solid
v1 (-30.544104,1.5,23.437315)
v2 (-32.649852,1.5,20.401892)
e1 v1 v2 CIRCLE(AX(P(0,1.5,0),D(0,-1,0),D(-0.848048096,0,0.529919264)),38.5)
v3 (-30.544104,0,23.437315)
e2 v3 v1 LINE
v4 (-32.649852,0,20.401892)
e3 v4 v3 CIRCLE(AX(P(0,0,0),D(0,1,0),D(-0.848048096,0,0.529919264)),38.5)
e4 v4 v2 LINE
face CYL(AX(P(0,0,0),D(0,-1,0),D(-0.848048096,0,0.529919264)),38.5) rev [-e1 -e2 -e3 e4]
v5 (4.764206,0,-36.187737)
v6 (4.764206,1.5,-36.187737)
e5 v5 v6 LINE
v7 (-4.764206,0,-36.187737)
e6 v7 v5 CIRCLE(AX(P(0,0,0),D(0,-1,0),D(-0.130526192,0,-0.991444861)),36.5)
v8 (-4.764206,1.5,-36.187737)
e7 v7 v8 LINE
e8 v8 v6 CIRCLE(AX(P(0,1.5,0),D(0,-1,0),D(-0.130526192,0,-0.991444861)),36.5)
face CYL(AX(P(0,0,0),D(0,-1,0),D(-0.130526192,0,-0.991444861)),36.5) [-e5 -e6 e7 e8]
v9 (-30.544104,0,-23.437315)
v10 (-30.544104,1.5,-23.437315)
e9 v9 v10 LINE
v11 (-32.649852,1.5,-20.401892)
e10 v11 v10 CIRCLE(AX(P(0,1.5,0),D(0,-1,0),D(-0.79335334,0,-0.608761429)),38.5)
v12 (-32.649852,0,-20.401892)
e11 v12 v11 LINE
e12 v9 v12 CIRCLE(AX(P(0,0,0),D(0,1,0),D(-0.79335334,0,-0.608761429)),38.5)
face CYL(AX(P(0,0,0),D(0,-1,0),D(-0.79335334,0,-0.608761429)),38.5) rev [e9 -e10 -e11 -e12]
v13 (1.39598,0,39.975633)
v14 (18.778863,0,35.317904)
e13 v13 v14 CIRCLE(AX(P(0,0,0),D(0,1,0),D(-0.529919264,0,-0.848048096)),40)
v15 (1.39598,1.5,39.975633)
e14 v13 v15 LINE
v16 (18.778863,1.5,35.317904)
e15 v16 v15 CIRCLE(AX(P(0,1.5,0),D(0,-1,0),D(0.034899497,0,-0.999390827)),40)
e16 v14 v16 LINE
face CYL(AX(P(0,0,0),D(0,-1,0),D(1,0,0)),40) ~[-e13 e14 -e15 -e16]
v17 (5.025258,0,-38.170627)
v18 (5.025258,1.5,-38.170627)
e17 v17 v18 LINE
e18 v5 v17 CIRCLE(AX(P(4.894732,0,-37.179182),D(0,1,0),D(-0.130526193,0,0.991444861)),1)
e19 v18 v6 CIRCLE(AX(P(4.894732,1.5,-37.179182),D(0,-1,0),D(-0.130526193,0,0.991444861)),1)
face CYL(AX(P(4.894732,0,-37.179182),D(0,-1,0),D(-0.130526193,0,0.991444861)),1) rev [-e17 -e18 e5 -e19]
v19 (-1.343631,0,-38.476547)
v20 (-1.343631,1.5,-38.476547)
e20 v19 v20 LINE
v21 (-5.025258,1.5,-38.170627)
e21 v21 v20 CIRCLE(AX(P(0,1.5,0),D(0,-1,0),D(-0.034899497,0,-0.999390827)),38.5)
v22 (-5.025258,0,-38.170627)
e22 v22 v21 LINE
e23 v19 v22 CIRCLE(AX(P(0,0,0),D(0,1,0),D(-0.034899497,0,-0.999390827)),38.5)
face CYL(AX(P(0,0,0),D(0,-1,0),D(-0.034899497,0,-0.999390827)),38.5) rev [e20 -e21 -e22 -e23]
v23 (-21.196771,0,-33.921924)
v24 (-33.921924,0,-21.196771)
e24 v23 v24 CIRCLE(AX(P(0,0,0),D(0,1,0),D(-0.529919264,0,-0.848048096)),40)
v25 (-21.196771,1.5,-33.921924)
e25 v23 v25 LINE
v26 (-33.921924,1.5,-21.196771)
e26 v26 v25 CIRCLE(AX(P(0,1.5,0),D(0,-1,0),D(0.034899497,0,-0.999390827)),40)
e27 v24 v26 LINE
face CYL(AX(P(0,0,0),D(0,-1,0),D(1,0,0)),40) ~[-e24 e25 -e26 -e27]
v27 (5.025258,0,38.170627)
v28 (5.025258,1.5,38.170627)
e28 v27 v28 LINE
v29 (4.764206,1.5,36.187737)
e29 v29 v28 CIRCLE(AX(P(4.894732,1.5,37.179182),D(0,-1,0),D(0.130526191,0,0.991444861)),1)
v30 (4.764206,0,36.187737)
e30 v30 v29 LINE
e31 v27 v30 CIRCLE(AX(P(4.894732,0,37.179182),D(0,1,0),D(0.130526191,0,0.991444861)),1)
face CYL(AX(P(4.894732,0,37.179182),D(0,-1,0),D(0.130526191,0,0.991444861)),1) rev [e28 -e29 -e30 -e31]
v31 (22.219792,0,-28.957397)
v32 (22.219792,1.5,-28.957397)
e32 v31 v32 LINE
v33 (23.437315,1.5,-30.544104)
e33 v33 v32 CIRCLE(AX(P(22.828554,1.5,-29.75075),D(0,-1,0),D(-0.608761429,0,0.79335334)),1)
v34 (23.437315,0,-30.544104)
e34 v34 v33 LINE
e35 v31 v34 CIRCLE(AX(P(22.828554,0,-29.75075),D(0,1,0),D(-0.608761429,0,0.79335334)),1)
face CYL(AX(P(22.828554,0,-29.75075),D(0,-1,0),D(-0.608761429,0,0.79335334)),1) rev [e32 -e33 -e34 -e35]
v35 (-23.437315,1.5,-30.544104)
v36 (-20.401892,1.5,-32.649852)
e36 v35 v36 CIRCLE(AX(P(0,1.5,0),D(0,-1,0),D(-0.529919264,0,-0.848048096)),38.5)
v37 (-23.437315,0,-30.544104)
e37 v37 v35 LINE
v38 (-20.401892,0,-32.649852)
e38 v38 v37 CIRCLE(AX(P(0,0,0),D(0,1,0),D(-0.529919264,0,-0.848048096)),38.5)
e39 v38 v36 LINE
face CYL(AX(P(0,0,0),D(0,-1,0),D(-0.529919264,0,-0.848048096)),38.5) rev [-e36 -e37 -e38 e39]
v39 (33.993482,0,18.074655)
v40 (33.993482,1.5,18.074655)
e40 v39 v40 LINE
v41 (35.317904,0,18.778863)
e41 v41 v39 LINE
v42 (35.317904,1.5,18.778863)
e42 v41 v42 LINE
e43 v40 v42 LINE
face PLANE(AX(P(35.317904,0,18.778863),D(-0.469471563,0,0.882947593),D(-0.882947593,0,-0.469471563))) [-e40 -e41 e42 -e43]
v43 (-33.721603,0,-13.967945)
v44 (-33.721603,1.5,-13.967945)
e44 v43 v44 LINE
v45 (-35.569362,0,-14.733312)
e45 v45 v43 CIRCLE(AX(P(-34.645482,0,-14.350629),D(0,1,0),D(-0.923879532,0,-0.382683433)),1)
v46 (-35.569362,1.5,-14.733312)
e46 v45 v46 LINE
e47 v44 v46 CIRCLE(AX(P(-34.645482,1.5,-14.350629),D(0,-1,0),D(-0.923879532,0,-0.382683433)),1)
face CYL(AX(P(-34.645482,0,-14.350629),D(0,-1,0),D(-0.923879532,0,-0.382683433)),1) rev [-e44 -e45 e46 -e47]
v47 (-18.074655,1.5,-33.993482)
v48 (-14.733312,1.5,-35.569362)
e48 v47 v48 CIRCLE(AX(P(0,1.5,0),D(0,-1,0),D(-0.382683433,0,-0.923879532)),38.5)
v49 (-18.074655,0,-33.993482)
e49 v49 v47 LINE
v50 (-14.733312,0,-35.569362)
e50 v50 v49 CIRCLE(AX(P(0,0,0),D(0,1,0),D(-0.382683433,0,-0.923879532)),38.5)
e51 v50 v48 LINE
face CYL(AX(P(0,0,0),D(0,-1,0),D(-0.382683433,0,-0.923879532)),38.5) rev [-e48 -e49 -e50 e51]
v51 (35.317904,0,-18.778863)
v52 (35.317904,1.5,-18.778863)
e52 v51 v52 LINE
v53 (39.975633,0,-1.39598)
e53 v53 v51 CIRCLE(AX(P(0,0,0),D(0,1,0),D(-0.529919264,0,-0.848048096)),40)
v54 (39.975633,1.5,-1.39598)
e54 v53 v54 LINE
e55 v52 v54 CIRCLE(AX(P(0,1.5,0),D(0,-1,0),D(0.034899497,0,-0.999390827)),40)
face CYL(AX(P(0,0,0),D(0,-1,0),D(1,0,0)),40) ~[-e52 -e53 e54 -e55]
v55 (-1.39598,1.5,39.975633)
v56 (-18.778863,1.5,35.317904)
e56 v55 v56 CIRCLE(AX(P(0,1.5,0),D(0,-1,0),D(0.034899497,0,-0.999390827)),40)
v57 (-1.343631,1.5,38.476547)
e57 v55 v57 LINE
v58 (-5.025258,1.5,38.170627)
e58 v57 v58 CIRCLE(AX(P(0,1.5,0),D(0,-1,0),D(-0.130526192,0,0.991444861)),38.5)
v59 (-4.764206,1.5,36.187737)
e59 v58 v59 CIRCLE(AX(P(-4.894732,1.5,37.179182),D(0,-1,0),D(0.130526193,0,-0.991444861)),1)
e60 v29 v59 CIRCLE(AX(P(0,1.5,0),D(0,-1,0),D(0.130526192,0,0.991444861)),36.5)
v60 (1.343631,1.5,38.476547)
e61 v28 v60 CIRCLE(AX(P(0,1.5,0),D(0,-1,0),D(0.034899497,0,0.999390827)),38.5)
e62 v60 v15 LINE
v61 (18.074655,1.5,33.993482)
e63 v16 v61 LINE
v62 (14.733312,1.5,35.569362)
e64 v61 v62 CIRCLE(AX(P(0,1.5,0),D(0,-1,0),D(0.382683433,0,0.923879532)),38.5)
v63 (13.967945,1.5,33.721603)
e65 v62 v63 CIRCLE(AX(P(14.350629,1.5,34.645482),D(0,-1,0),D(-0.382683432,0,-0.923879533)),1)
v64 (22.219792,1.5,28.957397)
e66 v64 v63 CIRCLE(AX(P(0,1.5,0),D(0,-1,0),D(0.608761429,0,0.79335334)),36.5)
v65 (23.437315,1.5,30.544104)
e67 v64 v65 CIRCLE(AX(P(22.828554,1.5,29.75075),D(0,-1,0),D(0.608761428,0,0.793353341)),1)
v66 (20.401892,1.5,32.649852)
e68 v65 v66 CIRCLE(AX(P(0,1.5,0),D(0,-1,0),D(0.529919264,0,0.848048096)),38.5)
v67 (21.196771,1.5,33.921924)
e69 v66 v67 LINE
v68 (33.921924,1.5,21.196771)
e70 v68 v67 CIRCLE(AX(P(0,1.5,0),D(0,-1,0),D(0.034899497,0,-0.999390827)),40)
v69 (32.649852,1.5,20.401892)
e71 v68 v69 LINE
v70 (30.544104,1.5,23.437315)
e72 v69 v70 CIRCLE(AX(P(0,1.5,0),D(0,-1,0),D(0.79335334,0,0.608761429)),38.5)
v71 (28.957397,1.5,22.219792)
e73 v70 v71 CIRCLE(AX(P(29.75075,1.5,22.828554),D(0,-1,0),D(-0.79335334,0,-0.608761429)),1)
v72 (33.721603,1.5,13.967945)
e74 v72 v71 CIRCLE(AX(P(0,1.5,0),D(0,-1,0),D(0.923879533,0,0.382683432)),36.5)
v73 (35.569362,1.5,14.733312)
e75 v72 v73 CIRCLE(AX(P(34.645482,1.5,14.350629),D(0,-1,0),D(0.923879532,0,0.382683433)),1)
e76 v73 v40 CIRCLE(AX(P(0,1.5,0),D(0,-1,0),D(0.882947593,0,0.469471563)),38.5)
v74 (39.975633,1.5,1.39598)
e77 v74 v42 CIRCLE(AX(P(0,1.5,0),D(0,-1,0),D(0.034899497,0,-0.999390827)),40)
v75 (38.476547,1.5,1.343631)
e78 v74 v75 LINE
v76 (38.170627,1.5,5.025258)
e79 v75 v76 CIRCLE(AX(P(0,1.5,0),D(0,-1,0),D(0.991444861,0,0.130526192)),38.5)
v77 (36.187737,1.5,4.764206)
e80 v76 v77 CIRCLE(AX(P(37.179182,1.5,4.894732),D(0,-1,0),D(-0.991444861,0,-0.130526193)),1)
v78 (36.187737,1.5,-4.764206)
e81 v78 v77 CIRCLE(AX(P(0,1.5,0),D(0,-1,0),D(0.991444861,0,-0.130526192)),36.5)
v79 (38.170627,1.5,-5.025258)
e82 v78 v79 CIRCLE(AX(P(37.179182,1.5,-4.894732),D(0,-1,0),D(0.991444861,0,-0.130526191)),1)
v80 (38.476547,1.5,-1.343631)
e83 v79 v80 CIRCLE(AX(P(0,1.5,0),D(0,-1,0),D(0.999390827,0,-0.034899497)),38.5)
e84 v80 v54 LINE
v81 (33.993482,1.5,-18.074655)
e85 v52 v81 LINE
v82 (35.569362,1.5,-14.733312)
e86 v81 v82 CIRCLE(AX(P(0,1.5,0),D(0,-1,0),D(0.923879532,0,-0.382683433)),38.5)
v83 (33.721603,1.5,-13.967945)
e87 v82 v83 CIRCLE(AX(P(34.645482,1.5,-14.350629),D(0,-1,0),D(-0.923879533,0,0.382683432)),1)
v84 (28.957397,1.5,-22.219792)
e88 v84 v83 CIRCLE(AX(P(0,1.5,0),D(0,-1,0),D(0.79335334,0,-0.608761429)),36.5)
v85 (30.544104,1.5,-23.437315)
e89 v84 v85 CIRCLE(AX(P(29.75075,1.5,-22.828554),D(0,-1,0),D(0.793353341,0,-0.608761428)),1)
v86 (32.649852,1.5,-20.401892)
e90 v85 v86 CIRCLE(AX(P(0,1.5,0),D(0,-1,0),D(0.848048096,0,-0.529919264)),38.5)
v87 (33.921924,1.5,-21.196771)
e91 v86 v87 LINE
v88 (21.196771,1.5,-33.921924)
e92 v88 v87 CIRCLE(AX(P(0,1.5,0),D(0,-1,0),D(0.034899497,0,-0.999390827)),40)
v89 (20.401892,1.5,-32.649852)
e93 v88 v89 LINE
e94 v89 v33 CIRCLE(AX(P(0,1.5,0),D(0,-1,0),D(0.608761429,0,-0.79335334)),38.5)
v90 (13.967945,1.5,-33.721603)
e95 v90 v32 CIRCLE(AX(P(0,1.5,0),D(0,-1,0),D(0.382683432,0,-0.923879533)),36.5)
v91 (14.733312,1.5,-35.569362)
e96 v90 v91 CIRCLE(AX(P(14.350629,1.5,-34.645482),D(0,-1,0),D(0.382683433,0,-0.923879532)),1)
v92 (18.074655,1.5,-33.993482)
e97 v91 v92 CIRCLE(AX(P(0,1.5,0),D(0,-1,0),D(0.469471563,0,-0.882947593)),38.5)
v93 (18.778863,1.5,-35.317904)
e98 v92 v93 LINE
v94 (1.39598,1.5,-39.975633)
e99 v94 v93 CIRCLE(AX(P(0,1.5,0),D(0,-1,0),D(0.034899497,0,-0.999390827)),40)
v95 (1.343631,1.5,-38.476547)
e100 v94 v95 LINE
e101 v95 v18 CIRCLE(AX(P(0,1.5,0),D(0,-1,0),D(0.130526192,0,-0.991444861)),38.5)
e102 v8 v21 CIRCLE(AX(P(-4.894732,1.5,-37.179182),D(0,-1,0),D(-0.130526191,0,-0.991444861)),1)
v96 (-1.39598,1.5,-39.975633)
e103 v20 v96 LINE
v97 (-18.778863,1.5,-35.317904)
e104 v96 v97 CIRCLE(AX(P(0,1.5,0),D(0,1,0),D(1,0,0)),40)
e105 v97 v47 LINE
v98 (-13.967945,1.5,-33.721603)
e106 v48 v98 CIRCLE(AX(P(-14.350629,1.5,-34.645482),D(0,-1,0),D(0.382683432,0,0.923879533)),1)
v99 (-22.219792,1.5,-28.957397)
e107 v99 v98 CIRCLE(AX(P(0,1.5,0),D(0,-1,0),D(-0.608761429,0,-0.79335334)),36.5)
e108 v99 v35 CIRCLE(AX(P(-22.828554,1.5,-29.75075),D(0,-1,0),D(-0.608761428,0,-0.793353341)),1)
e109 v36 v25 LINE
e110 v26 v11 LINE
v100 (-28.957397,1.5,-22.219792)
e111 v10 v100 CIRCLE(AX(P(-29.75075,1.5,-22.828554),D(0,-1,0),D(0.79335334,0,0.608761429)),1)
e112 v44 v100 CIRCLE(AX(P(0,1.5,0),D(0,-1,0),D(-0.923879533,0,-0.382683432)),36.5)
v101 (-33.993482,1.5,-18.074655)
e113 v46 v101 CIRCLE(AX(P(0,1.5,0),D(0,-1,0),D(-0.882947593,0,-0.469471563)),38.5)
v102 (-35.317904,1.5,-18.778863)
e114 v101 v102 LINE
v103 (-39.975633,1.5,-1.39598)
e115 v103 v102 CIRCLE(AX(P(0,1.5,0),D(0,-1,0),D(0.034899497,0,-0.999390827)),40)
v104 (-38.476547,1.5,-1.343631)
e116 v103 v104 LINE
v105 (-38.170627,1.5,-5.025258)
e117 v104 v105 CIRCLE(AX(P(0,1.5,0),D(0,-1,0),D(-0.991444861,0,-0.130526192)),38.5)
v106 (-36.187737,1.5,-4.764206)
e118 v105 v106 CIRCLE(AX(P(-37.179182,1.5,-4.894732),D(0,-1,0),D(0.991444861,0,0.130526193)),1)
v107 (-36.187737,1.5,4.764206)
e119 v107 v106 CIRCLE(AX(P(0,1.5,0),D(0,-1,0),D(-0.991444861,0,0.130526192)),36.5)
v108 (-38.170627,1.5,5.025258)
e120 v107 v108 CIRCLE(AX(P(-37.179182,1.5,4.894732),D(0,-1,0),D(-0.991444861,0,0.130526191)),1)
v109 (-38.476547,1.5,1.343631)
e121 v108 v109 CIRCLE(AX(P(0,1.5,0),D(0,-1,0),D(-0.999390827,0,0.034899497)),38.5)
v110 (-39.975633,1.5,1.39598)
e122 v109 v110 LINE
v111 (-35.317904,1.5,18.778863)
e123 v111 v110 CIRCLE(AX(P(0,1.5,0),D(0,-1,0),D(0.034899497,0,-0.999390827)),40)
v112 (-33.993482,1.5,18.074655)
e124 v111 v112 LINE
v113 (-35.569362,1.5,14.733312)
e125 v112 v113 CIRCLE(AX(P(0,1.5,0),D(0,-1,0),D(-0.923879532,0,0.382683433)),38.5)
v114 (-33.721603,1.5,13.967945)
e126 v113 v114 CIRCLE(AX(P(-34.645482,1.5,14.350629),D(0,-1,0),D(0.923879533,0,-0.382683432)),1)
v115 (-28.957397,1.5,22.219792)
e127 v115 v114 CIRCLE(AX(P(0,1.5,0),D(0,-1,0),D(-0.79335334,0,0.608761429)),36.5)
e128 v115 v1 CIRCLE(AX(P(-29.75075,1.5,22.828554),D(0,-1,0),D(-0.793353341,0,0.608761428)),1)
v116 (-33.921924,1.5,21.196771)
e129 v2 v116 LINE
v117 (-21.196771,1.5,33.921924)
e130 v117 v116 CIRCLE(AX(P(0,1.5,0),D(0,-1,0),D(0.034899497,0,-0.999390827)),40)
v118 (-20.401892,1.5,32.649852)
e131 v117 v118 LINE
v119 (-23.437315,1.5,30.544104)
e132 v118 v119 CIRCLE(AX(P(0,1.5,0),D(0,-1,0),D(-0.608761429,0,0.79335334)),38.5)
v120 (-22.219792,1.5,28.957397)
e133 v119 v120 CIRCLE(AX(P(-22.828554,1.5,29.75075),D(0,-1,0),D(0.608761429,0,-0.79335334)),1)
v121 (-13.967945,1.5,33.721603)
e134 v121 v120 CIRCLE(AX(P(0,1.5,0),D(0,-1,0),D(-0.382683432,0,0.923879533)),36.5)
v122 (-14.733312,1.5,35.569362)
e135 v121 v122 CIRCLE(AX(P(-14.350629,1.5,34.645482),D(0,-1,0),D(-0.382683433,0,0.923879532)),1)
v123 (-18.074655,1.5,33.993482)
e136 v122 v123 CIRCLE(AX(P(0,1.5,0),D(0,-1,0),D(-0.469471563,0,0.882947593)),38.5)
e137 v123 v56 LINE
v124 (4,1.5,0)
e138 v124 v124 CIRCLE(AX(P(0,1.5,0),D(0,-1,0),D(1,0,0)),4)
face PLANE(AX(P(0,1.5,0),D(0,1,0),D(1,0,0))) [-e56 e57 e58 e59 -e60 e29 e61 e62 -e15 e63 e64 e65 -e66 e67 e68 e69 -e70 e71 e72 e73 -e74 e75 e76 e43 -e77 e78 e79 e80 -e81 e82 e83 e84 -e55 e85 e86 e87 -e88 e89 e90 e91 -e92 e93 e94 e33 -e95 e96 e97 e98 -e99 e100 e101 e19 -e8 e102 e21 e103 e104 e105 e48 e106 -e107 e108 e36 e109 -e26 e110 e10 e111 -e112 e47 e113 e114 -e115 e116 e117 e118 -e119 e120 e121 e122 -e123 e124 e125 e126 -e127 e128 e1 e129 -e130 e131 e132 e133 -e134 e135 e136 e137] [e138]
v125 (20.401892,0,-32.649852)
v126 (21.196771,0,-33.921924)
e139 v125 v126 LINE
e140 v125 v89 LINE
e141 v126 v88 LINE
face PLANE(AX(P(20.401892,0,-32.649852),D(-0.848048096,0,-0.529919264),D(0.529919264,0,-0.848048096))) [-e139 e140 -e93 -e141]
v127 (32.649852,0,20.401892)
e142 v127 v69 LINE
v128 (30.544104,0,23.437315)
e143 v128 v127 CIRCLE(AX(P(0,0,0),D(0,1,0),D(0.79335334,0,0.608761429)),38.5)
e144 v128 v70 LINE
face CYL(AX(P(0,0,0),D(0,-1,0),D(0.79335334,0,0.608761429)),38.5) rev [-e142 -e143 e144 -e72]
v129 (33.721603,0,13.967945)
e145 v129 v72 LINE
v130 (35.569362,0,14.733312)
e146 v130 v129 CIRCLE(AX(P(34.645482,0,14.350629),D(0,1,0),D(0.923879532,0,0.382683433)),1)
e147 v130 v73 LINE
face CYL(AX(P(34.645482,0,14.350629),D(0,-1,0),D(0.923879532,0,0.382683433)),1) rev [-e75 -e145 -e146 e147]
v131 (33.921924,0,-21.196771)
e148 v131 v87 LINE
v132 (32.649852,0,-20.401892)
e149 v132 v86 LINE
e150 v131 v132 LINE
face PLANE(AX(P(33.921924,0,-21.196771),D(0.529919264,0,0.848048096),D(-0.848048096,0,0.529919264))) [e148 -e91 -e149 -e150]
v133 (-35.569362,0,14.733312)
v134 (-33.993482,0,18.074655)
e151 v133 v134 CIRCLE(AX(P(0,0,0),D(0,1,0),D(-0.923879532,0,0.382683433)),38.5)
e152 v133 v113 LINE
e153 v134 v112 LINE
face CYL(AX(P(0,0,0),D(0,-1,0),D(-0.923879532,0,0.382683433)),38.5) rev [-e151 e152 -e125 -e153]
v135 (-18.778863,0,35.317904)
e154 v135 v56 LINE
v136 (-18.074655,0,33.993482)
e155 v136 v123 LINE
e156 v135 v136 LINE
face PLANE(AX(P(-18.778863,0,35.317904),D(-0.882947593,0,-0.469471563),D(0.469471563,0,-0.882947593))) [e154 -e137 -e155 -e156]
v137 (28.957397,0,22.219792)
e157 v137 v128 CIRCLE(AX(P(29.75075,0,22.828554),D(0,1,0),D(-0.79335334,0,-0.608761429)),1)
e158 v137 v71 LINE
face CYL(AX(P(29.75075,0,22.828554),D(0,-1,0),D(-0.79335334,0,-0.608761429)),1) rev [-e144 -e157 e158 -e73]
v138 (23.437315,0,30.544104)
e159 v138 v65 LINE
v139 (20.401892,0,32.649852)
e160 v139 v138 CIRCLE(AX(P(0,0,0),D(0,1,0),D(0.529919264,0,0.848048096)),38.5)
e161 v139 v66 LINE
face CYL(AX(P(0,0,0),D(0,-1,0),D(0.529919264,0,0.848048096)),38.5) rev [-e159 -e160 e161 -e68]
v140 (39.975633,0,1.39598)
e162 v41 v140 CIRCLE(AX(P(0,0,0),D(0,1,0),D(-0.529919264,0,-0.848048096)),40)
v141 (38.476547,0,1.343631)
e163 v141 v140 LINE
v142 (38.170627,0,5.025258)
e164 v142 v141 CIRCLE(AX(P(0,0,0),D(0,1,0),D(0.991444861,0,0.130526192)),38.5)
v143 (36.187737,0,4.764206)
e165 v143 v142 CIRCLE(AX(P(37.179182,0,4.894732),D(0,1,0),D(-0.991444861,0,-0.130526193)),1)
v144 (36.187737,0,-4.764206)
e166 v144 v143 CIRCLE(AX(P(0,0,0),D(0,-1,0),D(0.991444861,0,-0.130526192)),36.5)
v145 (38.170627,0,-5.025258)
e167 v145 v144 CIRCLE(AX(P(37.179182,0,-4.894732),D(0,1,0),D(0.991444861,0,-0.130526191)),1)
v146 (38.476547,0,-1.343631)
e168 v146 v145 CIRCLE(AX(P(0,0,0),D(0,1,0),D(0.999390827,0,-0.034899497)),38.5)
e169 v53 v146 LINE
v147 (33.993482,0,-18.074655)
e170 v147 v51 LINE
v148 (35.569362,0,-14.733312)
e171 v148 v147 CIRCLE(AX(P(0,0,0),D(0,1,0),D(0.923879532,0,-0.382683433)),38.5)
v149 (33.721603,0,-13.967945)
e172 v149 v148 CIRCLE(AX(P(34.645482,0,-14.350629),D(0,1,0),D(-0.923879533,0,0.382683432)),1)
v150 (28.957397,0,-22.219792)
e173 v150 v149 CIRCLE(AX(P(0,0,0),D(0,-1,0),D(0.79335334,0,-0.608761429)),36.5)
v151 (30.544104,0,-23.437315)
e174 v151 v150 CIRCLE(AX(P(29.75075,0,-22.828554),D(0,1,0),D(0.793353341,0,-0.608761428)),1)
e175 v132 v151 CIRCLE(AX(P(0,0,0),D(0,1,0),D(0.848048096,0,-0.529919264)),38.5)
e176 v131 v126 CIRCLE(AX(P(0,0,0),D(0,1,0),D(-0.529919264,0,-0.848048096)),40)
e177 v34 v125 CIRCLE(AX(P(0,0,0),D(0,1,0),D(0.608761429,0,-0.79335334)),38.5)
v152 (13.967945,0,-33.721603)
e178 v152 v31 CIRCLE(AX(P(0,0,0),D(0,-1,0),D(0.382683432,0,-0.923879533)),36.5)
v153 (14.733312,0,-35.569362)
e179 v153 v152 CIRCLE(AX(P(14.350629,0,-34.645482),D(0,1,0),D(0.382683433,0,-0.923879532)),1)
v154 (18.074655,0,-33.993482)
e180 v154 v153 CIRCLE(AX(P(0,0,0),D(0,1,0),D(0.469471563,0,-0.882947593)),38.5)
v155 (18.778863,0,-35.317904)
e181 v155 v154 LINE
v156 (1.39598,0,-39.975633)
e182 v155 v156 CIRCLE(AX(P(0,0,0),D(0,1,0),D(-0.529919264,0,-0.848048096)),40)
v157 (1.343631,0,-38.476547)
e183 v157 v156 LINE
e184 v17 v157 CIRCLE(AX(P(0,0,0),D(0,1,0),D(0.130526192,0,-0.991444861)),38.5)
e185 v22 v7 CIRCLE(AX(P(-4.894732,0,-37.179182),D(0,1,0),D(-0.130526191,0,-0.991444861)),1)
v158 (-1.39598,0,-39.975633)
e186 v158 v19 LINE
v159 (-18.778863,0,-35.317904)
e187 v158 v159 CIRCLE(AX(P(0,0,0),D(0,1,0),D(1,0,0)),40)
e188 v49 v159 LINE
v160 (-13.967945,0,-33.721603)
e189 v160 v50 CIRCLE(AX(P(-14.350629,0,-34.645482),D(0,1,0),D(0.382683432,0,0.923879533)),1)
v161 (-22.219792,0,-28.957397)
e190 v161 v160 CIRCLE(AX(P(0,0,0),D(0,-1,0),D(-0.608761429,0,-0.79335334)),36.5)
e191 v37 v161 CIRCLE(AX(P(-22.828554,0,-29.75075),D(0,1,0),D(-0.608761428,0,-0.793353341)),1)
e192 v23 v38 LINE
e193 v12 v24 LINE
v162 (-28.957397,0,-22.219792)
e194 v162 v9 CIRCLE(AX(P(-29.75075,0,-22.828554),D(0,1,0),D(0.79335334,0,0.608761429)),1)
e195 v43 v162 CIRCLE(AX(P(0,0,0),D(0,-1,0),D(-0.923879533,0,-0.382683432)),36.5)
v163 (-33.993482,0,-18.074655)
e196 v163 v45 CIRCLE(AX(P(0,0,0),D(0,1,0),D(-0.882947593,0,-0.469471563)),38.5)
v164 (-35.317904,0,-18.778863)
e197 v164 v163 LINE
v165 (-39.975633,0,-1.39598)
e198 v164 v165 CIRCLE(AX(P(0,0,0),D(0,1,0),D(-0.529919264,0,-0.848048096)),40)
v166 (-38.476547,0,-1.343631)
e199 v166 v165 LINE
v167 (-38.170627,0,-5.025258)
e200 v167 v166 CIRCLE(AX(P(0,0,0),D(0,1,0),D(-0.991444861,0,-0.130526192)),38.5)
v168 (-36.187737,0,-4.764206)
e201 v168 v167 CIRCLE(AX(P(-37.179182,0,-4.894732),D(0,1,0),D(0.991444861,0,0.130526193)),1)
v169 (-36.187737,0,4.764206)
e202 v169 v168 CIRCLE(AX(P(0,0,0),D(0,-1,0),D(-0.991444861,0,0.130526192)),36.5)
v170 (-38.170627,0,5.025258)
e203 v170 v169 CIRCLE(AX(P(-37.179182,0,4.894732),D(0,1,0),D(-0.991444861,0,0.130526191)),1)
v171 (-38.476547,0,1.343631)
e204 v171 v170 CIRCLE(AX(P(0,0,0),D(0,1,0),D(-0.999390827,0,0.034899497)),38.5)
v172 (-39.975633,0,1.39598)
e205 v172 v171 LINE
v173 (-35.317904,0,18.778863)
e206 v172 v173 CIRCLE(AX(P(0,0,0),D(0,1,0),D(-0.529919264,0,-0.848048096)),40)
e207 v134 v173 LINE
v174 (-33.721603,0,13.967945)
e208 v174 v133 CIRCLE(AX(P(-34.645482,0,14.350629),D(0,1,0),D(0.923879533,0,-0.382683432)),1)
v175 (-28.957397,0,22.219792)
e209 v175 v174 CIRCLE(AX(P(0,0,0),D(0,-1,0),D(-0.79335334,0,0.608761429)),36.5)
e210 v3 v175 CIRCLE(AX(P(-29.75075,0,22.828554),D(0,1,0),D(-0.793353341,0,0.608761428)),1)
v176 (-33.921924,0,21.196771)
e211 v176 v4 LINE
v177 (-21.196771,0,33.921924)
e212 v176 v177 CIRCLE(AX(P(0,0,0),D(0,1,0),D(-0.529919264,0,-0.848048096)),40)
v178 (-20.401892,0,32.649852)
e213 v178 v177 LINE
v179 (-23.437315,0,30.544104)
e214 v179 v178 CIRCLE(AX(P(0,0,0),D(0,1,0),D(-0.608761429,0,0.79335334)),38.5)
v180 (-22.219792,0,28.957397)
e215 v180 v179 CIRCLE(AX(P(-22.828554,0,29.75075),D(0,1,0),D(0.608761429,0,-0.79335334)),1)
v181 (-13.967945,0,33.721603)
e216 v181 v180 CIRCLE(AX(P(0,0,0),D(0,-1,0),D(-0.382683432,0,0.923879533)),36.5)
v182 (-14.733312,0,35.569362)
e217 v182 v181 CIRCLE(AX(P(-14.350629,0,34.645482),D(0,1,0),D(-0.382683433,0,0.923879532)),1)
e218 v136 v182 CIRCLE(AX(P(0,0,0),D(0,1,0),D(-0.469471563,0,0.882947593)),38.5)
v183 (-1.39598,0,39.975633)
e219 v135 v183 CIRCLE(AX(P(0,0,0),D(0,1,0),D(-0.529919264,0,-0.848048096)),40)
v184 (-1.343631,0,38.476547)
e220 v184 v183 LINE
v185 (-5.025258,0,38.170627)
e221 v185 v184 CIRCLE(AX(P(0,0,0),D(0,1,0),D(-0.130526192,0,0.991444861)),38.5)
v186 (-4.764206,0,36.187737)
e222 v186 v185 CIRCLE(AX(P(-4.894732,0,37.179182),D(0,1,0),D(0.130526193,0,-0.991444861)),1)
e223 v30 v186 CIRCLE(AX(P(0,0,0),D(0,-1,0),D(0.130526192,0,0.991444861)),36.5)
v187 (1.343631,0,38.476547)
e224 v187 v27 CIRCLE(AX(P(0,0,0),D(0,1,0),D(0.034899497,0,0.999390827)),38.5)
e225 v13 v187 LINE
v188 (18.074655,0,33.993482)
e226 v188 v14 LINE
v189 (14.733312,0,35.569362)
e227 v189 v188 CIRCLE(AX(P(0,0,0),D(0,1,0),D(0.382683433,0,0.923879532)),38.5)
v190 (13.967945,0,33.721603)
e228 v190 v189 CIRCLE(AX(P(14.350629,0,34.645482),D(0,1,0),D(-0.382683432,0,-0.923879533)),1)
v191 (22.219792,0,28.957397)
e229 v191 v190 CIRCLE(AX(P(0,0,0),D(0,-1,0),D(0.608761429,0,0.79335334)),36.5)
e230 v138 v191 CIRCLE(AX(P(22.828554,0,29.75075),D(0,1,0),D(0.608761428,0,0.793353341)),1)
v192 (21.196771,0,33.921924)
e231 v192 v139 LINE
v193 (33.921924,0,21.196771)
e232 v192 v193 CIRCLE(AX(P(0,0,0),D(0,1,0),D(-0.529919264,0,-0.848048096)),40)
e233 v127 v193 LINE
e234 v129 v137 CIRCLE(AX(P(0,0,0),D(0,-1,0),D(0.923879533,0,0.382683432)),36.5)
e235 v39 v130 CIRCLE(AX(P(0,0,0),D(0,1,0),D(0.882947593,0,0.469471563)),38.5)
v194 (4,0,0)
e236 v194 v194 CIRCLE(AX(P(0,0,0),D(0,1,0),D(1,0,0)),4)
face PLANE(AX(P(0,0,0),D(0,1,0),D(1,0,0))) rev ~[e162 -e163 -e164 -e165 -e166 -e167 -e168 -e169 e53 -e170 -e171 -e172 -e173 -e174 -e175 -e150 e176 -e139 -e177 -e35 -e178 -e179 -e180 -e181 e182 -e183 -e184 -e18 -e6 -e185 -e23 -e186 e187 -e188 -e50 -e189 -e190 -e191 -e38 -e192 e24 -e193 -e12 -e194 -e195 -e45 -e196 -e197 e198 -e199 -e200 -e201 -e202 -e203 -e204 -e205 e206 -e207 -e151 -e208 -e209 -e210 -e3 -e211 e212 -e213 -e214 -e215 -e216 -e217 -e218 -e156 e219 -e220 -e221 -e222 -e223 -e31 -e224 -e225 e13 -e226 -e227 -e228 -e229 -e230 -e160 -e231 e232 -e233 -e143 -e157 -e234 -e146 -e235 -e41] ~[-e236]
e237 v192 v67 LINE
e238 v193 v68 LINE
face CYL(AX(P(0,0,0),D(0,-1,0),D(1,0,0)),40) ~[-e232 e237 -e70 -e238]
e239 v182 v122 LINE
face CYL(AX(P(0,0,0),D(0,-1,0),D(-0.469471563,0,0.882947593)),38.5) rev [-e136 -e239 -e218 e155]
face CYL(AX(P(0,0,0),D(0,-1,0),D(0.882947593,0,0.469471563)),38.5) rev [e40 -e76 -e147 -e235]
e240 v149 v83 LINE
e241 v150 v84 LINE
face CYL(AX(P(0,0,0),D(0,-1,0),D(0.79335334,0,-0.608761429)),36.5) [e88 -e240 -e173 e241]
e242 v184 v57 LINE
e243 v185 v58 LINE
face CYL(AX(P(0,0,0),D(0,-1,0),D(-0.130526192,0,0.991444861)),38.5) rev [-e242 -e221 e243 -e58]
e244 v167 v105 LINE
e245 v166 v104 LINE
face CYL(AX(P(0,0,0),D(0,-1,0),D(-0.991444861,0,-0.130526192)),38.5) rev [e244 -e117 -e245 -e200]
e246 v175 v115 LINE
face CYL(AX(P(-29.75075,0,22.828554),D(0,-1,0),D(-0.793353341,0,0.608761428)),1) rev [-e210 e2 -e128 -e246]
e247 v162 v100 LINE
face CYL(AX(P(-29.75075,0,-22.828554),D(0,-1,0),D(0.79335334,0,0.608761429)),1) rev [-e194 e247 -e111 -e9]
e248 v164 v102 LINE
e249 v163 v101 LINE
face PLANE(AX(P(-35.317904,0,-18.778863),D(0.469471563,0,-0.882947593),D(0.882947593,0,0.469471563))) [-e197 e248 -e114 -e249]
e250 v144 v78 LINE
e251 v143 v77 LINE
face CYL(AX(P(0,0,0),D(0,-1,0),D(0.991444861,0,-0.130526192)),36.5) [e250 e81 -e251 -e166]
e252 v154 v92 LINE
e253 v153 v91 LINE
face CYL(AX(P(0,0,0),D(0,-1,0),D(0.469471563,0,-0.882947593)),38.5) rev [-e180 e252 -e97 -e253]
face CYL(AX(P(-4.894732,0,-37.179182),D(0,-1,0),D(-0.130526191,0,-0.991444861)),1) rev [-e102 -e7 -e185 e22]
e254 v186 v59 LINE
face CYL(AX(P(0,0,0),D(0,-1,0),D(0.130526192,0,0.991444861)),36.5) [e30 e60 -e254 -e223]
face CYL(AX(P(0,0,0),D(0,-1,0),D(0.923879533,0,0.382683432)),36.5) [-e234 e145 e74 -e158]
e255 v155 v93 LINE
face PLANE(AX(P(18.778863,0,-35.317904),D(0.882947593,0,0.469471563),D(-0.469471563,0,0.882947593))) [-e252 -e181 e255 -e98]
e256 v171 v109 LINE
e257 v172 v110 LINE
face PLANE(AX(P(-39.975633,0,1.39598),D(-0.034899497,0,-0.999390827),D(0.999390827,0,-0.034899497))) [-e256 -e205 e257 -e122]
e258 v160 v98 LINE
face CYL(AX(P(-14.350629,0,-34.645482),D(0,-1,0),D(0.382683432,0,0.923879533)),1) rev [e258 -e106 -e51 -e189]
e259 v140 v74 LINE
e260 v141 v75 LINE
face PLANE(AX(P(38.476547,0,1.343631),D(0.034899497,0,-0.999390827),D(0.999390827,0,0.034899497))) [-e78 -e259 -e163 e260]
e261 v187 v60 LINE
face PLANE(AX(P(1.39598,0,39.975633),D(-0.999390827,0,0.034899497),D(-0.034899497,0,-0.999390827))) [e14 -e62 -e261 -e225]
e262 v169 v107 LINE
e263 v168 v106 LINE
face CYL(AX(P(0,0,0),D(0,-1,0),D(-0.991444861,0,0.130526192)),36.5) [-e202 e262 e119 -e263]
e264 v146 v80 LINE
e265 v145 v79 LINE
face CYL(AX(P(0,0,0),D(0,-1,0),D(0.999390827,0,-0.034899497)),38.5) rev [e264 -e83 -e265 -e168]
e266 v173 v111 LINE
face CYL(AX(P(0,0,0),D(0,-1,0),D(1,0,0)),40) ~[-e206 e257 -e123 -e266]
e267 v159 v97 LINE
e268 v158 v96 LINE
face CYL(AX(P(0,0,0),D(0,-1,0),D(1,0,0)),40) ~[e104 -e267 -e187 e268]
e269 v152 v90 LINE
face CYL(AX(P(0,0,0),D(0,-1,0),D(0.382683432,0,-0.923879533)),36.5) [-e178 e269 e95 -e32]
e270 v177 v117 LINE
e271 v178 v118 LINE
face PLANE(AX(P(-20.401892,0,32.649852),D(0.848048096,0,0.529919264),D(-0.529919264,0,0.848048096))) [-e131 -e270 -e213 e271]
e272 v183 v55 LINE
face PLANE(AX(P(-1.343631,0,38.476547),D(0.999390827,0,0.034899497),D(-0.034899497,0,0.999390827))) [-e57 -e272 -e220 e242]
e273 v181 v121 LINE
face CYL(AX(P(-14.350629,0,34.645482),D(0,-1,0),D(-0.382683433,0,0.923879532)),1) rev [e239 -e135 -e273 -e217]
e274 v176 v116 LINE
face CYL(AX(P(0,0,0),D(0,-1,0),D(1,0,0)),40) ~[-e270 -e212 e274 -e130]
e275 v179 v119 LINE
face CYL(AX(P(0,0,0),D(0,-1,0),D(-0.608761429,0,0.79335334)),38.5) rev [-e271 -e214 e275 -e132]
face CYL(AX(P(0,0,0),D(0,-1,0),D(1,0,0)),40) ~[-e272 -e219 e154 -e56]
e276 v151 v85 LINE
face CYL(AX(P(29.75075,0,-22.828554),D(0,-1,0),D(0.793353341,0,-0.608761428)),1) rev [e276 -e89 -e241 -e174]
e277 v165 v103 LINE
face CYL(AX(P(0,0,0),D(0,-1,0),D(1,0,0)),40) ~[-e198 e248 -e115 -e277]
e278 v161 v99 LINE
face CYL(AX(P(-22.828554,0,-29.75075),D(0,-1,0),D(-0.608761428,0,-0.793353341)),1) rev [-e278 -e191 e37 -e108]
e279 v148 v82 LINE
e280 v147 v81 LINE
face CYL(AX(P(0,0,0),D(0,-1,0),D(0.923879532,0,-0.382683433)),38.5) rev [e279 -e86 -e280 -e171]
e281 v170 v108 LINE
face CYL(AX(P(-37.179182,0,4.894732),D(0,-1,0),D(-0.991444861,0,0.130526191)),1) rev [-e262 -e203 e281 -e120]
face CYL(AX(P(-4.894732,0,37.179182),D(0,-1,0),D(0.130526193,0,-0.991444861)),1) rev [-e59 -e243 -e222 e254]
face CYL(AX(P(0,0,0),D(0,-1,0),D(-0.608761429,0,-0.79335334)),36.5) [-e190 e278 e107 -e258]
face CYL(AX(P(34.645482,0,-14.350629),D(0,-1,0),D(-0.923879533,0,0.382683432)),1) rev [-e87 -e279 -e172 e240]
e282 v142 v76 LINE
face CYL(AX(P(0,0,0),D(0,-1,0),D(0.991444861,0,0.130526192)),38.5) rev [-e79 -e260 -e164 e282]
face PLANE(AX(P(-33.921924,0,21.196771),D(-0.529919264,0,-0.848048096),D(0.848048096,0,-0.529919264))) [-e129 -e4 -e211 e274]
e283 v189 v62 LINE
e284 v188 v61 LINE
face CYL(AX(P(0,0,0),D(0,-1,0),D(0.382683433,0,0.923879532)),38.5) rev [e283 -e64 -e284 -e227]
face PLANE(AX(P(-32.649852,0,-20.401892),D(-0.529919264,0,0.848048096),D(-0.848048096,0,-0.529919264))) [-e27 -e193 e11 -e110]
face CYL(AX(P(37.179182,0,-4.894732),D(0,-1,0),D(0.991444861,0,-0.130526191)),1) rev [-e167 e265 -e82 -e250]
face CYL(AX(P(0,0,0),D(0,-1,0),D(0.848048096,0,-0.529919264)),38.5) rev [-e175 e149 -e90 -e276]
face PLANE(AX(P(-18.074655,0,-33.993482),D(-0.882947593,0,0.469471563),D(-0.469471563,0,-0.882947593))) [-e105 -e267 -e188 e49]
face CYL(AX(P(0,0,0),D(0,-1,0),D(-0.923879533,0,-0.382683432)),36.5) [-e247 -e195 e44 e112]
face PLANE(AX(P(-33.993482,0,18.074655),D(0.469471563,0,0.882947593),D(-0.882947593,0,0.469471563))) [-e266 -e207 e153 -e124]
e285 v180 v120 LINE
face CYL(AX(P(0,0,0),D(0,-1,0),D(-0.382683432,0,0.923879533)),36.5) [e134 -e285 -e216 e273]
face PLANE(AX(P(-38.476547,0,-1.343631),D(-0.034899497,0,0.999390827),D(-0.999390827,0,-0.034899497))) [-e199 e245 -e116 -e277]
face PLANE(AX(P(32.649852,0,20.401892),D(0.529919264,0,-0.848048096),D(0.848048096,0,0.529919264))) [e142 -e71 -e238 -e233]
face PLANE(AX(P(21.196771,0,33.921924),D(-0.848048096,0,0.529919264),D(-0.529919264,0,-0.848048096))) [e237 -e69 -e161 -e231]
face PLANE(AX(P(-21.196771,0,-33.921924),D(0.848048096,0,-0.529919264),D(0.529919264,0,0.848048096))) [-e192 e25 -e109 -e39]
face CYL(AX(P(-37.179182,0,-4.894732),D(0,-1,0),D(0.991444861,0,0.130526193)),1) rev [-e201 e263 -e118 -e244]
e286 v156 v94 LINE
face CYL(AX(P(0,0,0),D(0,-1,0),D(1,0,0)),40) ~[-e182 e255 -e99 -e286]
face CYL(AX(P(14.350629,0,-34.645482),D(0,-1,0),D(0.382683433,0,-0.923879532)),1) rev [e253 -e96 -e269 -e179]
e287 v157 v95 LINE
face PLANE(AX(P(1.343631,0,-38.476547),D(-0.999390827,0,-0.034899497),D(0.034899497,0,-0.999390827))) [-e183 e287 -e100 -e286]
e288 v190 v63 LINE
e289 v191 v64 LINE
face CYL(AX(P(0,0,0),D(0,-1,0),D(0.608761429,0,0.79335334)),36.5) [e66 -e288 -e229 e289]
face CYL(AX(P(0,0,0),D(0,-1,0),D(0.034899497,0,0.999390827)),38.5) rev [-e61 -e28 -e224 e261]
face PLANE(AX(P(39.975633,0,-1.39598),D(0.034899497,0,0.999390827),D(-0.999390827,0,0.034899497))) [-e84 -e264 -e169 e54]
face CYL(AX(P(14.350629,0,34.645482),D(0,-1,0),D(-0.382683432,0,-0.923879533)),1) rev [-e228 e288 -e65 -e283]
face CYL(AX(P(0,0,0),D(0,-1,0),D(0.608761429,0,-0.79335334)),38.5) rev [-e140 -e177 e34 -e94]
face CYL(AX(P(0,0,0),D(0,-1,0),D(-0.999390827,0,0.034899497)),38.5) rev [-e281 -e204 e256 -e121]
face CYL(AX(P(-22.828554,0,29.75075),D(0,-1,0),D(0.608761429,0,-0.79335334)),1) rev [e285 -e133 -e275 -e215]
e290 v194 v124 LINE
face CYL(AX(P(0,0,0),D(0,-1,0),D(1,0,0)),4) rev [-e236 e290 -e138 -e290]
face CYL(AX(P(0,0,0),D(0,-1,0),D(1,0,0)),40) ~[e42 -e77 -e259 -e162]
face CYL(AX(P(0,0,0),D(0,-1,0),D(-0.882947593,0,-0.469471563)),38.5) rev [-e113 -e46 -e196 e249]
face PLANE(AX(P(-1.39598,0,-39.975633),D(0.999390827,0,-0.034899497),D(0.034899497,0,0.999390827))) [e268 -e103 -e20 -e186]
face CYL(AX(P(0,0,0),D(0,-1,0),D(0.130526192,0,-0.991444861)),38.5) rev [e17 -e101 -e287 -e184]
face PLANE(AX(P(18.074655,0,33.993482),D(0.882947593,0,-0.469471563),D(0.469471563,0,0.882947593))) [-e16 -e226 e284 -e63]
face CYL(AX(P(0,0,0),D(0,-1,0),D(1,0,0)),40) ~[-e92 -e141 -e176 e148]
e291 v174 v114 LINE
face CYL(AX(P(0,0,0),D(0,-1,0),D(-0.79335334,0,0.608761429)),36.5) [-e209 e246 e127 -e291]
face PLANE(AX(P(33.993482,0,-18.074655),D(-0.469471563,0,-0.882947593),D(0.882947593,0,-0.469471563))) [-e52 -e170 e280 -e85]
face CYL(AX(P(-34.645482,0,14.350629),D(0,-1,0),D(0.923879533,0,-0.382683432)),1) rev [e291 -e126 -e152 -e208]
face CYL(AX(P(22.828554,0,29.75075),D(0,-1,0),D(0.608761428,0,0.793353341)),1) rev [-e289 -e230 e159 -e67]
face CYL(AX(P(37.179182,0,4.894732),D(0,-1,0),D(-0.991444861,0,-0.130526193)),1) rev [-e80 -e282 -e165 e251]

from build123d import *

# Parameters (mm, degrees)
SKETCH1_R         = 40
WHEEL_BLANK_DEPTH = 1.5
T_SLOT_DEPTH      = 2.5
CIRPATTERN_COUNT  = 12
SKETCH3_R         = 4
CENTER_HOLE_DEPTH = 6


with BuildPart() as part:
    # Sketch1 → Wheel Blank (new body)
    with BuildSketch(Plane(origin=(0, 0, 0), x_dir=(1, 0, 0), z_dir=(0, 1, 0))):
        Circle(SKETCH1_R)
    extrude(amount=WHEEL_BLANK_DEPTH)

    # Sketch2 → T-Slot (cut, through all)
    with BuildSketch(Plane(origin=(0, 0, 0), x_dir=(1, 0, 0), z_dir=(0, 1, 0))):
        with BuildLine():
            Line((-1.395979868, 39.975633081), (-1.343630623, 38.47654684))
            ThreePointArc((-1.343630623, 38.47654684), (-3.188115989, 38.367771846), (-5.0252584, 38.170627163))
            ThreePointArc((-5.0252584, 38.170627163), (-5.88617707, 37.048656109), (-4.764206016, 36.18773744))
            ThreePointArc((-4.764206016, 36.18773744), (0, 36.5), (4.764206016, 36.18773744))
            ThreePointArc((4.764206016, 36.18773744), (5.88617707, 37.048656109), (5.0252584, 38.170627163))
            ThreePointArc((5.0252584, 38.170627163), (3.188115989, 38.367771846), (1.343630623, 38.47654684))
            Line((1.343630623, 38.47654684), (1.395979868, 39.975633081))
            ThreePointArc((1.395979868, 39.975633081), (0, 40), (-1.395979868, 39.975633081))
        make_face()
    t_slot = extrude(amount=T_SLOT_DEPTH, mode=Mode.SUBTRACT)

    # CirPattern: T-Slot ×12 about axis
    cirpattern_axis = Axis((0, 0, 0), (0, 1, 0))
    for i in range(1, CIRPATTERN_COUNT):
        add(t_slot.rotate(cirpattern_axis, i * 360 / CIRPATTERN_COUNT), mode=Mode.SUBTRACT)

    # Sketch3 → Center Hole (cut)
    with BuildSketch(Plane(origin=(0, 0, 0), x_dir=(1, 0, 0), z_dir=(0, 1, 0))):
        Circle(SKETCH3_R)
    extrude(amount=CENTER_HOLE_DEPTH, mode=Mode.SUBTRACT)


solid = part.part
